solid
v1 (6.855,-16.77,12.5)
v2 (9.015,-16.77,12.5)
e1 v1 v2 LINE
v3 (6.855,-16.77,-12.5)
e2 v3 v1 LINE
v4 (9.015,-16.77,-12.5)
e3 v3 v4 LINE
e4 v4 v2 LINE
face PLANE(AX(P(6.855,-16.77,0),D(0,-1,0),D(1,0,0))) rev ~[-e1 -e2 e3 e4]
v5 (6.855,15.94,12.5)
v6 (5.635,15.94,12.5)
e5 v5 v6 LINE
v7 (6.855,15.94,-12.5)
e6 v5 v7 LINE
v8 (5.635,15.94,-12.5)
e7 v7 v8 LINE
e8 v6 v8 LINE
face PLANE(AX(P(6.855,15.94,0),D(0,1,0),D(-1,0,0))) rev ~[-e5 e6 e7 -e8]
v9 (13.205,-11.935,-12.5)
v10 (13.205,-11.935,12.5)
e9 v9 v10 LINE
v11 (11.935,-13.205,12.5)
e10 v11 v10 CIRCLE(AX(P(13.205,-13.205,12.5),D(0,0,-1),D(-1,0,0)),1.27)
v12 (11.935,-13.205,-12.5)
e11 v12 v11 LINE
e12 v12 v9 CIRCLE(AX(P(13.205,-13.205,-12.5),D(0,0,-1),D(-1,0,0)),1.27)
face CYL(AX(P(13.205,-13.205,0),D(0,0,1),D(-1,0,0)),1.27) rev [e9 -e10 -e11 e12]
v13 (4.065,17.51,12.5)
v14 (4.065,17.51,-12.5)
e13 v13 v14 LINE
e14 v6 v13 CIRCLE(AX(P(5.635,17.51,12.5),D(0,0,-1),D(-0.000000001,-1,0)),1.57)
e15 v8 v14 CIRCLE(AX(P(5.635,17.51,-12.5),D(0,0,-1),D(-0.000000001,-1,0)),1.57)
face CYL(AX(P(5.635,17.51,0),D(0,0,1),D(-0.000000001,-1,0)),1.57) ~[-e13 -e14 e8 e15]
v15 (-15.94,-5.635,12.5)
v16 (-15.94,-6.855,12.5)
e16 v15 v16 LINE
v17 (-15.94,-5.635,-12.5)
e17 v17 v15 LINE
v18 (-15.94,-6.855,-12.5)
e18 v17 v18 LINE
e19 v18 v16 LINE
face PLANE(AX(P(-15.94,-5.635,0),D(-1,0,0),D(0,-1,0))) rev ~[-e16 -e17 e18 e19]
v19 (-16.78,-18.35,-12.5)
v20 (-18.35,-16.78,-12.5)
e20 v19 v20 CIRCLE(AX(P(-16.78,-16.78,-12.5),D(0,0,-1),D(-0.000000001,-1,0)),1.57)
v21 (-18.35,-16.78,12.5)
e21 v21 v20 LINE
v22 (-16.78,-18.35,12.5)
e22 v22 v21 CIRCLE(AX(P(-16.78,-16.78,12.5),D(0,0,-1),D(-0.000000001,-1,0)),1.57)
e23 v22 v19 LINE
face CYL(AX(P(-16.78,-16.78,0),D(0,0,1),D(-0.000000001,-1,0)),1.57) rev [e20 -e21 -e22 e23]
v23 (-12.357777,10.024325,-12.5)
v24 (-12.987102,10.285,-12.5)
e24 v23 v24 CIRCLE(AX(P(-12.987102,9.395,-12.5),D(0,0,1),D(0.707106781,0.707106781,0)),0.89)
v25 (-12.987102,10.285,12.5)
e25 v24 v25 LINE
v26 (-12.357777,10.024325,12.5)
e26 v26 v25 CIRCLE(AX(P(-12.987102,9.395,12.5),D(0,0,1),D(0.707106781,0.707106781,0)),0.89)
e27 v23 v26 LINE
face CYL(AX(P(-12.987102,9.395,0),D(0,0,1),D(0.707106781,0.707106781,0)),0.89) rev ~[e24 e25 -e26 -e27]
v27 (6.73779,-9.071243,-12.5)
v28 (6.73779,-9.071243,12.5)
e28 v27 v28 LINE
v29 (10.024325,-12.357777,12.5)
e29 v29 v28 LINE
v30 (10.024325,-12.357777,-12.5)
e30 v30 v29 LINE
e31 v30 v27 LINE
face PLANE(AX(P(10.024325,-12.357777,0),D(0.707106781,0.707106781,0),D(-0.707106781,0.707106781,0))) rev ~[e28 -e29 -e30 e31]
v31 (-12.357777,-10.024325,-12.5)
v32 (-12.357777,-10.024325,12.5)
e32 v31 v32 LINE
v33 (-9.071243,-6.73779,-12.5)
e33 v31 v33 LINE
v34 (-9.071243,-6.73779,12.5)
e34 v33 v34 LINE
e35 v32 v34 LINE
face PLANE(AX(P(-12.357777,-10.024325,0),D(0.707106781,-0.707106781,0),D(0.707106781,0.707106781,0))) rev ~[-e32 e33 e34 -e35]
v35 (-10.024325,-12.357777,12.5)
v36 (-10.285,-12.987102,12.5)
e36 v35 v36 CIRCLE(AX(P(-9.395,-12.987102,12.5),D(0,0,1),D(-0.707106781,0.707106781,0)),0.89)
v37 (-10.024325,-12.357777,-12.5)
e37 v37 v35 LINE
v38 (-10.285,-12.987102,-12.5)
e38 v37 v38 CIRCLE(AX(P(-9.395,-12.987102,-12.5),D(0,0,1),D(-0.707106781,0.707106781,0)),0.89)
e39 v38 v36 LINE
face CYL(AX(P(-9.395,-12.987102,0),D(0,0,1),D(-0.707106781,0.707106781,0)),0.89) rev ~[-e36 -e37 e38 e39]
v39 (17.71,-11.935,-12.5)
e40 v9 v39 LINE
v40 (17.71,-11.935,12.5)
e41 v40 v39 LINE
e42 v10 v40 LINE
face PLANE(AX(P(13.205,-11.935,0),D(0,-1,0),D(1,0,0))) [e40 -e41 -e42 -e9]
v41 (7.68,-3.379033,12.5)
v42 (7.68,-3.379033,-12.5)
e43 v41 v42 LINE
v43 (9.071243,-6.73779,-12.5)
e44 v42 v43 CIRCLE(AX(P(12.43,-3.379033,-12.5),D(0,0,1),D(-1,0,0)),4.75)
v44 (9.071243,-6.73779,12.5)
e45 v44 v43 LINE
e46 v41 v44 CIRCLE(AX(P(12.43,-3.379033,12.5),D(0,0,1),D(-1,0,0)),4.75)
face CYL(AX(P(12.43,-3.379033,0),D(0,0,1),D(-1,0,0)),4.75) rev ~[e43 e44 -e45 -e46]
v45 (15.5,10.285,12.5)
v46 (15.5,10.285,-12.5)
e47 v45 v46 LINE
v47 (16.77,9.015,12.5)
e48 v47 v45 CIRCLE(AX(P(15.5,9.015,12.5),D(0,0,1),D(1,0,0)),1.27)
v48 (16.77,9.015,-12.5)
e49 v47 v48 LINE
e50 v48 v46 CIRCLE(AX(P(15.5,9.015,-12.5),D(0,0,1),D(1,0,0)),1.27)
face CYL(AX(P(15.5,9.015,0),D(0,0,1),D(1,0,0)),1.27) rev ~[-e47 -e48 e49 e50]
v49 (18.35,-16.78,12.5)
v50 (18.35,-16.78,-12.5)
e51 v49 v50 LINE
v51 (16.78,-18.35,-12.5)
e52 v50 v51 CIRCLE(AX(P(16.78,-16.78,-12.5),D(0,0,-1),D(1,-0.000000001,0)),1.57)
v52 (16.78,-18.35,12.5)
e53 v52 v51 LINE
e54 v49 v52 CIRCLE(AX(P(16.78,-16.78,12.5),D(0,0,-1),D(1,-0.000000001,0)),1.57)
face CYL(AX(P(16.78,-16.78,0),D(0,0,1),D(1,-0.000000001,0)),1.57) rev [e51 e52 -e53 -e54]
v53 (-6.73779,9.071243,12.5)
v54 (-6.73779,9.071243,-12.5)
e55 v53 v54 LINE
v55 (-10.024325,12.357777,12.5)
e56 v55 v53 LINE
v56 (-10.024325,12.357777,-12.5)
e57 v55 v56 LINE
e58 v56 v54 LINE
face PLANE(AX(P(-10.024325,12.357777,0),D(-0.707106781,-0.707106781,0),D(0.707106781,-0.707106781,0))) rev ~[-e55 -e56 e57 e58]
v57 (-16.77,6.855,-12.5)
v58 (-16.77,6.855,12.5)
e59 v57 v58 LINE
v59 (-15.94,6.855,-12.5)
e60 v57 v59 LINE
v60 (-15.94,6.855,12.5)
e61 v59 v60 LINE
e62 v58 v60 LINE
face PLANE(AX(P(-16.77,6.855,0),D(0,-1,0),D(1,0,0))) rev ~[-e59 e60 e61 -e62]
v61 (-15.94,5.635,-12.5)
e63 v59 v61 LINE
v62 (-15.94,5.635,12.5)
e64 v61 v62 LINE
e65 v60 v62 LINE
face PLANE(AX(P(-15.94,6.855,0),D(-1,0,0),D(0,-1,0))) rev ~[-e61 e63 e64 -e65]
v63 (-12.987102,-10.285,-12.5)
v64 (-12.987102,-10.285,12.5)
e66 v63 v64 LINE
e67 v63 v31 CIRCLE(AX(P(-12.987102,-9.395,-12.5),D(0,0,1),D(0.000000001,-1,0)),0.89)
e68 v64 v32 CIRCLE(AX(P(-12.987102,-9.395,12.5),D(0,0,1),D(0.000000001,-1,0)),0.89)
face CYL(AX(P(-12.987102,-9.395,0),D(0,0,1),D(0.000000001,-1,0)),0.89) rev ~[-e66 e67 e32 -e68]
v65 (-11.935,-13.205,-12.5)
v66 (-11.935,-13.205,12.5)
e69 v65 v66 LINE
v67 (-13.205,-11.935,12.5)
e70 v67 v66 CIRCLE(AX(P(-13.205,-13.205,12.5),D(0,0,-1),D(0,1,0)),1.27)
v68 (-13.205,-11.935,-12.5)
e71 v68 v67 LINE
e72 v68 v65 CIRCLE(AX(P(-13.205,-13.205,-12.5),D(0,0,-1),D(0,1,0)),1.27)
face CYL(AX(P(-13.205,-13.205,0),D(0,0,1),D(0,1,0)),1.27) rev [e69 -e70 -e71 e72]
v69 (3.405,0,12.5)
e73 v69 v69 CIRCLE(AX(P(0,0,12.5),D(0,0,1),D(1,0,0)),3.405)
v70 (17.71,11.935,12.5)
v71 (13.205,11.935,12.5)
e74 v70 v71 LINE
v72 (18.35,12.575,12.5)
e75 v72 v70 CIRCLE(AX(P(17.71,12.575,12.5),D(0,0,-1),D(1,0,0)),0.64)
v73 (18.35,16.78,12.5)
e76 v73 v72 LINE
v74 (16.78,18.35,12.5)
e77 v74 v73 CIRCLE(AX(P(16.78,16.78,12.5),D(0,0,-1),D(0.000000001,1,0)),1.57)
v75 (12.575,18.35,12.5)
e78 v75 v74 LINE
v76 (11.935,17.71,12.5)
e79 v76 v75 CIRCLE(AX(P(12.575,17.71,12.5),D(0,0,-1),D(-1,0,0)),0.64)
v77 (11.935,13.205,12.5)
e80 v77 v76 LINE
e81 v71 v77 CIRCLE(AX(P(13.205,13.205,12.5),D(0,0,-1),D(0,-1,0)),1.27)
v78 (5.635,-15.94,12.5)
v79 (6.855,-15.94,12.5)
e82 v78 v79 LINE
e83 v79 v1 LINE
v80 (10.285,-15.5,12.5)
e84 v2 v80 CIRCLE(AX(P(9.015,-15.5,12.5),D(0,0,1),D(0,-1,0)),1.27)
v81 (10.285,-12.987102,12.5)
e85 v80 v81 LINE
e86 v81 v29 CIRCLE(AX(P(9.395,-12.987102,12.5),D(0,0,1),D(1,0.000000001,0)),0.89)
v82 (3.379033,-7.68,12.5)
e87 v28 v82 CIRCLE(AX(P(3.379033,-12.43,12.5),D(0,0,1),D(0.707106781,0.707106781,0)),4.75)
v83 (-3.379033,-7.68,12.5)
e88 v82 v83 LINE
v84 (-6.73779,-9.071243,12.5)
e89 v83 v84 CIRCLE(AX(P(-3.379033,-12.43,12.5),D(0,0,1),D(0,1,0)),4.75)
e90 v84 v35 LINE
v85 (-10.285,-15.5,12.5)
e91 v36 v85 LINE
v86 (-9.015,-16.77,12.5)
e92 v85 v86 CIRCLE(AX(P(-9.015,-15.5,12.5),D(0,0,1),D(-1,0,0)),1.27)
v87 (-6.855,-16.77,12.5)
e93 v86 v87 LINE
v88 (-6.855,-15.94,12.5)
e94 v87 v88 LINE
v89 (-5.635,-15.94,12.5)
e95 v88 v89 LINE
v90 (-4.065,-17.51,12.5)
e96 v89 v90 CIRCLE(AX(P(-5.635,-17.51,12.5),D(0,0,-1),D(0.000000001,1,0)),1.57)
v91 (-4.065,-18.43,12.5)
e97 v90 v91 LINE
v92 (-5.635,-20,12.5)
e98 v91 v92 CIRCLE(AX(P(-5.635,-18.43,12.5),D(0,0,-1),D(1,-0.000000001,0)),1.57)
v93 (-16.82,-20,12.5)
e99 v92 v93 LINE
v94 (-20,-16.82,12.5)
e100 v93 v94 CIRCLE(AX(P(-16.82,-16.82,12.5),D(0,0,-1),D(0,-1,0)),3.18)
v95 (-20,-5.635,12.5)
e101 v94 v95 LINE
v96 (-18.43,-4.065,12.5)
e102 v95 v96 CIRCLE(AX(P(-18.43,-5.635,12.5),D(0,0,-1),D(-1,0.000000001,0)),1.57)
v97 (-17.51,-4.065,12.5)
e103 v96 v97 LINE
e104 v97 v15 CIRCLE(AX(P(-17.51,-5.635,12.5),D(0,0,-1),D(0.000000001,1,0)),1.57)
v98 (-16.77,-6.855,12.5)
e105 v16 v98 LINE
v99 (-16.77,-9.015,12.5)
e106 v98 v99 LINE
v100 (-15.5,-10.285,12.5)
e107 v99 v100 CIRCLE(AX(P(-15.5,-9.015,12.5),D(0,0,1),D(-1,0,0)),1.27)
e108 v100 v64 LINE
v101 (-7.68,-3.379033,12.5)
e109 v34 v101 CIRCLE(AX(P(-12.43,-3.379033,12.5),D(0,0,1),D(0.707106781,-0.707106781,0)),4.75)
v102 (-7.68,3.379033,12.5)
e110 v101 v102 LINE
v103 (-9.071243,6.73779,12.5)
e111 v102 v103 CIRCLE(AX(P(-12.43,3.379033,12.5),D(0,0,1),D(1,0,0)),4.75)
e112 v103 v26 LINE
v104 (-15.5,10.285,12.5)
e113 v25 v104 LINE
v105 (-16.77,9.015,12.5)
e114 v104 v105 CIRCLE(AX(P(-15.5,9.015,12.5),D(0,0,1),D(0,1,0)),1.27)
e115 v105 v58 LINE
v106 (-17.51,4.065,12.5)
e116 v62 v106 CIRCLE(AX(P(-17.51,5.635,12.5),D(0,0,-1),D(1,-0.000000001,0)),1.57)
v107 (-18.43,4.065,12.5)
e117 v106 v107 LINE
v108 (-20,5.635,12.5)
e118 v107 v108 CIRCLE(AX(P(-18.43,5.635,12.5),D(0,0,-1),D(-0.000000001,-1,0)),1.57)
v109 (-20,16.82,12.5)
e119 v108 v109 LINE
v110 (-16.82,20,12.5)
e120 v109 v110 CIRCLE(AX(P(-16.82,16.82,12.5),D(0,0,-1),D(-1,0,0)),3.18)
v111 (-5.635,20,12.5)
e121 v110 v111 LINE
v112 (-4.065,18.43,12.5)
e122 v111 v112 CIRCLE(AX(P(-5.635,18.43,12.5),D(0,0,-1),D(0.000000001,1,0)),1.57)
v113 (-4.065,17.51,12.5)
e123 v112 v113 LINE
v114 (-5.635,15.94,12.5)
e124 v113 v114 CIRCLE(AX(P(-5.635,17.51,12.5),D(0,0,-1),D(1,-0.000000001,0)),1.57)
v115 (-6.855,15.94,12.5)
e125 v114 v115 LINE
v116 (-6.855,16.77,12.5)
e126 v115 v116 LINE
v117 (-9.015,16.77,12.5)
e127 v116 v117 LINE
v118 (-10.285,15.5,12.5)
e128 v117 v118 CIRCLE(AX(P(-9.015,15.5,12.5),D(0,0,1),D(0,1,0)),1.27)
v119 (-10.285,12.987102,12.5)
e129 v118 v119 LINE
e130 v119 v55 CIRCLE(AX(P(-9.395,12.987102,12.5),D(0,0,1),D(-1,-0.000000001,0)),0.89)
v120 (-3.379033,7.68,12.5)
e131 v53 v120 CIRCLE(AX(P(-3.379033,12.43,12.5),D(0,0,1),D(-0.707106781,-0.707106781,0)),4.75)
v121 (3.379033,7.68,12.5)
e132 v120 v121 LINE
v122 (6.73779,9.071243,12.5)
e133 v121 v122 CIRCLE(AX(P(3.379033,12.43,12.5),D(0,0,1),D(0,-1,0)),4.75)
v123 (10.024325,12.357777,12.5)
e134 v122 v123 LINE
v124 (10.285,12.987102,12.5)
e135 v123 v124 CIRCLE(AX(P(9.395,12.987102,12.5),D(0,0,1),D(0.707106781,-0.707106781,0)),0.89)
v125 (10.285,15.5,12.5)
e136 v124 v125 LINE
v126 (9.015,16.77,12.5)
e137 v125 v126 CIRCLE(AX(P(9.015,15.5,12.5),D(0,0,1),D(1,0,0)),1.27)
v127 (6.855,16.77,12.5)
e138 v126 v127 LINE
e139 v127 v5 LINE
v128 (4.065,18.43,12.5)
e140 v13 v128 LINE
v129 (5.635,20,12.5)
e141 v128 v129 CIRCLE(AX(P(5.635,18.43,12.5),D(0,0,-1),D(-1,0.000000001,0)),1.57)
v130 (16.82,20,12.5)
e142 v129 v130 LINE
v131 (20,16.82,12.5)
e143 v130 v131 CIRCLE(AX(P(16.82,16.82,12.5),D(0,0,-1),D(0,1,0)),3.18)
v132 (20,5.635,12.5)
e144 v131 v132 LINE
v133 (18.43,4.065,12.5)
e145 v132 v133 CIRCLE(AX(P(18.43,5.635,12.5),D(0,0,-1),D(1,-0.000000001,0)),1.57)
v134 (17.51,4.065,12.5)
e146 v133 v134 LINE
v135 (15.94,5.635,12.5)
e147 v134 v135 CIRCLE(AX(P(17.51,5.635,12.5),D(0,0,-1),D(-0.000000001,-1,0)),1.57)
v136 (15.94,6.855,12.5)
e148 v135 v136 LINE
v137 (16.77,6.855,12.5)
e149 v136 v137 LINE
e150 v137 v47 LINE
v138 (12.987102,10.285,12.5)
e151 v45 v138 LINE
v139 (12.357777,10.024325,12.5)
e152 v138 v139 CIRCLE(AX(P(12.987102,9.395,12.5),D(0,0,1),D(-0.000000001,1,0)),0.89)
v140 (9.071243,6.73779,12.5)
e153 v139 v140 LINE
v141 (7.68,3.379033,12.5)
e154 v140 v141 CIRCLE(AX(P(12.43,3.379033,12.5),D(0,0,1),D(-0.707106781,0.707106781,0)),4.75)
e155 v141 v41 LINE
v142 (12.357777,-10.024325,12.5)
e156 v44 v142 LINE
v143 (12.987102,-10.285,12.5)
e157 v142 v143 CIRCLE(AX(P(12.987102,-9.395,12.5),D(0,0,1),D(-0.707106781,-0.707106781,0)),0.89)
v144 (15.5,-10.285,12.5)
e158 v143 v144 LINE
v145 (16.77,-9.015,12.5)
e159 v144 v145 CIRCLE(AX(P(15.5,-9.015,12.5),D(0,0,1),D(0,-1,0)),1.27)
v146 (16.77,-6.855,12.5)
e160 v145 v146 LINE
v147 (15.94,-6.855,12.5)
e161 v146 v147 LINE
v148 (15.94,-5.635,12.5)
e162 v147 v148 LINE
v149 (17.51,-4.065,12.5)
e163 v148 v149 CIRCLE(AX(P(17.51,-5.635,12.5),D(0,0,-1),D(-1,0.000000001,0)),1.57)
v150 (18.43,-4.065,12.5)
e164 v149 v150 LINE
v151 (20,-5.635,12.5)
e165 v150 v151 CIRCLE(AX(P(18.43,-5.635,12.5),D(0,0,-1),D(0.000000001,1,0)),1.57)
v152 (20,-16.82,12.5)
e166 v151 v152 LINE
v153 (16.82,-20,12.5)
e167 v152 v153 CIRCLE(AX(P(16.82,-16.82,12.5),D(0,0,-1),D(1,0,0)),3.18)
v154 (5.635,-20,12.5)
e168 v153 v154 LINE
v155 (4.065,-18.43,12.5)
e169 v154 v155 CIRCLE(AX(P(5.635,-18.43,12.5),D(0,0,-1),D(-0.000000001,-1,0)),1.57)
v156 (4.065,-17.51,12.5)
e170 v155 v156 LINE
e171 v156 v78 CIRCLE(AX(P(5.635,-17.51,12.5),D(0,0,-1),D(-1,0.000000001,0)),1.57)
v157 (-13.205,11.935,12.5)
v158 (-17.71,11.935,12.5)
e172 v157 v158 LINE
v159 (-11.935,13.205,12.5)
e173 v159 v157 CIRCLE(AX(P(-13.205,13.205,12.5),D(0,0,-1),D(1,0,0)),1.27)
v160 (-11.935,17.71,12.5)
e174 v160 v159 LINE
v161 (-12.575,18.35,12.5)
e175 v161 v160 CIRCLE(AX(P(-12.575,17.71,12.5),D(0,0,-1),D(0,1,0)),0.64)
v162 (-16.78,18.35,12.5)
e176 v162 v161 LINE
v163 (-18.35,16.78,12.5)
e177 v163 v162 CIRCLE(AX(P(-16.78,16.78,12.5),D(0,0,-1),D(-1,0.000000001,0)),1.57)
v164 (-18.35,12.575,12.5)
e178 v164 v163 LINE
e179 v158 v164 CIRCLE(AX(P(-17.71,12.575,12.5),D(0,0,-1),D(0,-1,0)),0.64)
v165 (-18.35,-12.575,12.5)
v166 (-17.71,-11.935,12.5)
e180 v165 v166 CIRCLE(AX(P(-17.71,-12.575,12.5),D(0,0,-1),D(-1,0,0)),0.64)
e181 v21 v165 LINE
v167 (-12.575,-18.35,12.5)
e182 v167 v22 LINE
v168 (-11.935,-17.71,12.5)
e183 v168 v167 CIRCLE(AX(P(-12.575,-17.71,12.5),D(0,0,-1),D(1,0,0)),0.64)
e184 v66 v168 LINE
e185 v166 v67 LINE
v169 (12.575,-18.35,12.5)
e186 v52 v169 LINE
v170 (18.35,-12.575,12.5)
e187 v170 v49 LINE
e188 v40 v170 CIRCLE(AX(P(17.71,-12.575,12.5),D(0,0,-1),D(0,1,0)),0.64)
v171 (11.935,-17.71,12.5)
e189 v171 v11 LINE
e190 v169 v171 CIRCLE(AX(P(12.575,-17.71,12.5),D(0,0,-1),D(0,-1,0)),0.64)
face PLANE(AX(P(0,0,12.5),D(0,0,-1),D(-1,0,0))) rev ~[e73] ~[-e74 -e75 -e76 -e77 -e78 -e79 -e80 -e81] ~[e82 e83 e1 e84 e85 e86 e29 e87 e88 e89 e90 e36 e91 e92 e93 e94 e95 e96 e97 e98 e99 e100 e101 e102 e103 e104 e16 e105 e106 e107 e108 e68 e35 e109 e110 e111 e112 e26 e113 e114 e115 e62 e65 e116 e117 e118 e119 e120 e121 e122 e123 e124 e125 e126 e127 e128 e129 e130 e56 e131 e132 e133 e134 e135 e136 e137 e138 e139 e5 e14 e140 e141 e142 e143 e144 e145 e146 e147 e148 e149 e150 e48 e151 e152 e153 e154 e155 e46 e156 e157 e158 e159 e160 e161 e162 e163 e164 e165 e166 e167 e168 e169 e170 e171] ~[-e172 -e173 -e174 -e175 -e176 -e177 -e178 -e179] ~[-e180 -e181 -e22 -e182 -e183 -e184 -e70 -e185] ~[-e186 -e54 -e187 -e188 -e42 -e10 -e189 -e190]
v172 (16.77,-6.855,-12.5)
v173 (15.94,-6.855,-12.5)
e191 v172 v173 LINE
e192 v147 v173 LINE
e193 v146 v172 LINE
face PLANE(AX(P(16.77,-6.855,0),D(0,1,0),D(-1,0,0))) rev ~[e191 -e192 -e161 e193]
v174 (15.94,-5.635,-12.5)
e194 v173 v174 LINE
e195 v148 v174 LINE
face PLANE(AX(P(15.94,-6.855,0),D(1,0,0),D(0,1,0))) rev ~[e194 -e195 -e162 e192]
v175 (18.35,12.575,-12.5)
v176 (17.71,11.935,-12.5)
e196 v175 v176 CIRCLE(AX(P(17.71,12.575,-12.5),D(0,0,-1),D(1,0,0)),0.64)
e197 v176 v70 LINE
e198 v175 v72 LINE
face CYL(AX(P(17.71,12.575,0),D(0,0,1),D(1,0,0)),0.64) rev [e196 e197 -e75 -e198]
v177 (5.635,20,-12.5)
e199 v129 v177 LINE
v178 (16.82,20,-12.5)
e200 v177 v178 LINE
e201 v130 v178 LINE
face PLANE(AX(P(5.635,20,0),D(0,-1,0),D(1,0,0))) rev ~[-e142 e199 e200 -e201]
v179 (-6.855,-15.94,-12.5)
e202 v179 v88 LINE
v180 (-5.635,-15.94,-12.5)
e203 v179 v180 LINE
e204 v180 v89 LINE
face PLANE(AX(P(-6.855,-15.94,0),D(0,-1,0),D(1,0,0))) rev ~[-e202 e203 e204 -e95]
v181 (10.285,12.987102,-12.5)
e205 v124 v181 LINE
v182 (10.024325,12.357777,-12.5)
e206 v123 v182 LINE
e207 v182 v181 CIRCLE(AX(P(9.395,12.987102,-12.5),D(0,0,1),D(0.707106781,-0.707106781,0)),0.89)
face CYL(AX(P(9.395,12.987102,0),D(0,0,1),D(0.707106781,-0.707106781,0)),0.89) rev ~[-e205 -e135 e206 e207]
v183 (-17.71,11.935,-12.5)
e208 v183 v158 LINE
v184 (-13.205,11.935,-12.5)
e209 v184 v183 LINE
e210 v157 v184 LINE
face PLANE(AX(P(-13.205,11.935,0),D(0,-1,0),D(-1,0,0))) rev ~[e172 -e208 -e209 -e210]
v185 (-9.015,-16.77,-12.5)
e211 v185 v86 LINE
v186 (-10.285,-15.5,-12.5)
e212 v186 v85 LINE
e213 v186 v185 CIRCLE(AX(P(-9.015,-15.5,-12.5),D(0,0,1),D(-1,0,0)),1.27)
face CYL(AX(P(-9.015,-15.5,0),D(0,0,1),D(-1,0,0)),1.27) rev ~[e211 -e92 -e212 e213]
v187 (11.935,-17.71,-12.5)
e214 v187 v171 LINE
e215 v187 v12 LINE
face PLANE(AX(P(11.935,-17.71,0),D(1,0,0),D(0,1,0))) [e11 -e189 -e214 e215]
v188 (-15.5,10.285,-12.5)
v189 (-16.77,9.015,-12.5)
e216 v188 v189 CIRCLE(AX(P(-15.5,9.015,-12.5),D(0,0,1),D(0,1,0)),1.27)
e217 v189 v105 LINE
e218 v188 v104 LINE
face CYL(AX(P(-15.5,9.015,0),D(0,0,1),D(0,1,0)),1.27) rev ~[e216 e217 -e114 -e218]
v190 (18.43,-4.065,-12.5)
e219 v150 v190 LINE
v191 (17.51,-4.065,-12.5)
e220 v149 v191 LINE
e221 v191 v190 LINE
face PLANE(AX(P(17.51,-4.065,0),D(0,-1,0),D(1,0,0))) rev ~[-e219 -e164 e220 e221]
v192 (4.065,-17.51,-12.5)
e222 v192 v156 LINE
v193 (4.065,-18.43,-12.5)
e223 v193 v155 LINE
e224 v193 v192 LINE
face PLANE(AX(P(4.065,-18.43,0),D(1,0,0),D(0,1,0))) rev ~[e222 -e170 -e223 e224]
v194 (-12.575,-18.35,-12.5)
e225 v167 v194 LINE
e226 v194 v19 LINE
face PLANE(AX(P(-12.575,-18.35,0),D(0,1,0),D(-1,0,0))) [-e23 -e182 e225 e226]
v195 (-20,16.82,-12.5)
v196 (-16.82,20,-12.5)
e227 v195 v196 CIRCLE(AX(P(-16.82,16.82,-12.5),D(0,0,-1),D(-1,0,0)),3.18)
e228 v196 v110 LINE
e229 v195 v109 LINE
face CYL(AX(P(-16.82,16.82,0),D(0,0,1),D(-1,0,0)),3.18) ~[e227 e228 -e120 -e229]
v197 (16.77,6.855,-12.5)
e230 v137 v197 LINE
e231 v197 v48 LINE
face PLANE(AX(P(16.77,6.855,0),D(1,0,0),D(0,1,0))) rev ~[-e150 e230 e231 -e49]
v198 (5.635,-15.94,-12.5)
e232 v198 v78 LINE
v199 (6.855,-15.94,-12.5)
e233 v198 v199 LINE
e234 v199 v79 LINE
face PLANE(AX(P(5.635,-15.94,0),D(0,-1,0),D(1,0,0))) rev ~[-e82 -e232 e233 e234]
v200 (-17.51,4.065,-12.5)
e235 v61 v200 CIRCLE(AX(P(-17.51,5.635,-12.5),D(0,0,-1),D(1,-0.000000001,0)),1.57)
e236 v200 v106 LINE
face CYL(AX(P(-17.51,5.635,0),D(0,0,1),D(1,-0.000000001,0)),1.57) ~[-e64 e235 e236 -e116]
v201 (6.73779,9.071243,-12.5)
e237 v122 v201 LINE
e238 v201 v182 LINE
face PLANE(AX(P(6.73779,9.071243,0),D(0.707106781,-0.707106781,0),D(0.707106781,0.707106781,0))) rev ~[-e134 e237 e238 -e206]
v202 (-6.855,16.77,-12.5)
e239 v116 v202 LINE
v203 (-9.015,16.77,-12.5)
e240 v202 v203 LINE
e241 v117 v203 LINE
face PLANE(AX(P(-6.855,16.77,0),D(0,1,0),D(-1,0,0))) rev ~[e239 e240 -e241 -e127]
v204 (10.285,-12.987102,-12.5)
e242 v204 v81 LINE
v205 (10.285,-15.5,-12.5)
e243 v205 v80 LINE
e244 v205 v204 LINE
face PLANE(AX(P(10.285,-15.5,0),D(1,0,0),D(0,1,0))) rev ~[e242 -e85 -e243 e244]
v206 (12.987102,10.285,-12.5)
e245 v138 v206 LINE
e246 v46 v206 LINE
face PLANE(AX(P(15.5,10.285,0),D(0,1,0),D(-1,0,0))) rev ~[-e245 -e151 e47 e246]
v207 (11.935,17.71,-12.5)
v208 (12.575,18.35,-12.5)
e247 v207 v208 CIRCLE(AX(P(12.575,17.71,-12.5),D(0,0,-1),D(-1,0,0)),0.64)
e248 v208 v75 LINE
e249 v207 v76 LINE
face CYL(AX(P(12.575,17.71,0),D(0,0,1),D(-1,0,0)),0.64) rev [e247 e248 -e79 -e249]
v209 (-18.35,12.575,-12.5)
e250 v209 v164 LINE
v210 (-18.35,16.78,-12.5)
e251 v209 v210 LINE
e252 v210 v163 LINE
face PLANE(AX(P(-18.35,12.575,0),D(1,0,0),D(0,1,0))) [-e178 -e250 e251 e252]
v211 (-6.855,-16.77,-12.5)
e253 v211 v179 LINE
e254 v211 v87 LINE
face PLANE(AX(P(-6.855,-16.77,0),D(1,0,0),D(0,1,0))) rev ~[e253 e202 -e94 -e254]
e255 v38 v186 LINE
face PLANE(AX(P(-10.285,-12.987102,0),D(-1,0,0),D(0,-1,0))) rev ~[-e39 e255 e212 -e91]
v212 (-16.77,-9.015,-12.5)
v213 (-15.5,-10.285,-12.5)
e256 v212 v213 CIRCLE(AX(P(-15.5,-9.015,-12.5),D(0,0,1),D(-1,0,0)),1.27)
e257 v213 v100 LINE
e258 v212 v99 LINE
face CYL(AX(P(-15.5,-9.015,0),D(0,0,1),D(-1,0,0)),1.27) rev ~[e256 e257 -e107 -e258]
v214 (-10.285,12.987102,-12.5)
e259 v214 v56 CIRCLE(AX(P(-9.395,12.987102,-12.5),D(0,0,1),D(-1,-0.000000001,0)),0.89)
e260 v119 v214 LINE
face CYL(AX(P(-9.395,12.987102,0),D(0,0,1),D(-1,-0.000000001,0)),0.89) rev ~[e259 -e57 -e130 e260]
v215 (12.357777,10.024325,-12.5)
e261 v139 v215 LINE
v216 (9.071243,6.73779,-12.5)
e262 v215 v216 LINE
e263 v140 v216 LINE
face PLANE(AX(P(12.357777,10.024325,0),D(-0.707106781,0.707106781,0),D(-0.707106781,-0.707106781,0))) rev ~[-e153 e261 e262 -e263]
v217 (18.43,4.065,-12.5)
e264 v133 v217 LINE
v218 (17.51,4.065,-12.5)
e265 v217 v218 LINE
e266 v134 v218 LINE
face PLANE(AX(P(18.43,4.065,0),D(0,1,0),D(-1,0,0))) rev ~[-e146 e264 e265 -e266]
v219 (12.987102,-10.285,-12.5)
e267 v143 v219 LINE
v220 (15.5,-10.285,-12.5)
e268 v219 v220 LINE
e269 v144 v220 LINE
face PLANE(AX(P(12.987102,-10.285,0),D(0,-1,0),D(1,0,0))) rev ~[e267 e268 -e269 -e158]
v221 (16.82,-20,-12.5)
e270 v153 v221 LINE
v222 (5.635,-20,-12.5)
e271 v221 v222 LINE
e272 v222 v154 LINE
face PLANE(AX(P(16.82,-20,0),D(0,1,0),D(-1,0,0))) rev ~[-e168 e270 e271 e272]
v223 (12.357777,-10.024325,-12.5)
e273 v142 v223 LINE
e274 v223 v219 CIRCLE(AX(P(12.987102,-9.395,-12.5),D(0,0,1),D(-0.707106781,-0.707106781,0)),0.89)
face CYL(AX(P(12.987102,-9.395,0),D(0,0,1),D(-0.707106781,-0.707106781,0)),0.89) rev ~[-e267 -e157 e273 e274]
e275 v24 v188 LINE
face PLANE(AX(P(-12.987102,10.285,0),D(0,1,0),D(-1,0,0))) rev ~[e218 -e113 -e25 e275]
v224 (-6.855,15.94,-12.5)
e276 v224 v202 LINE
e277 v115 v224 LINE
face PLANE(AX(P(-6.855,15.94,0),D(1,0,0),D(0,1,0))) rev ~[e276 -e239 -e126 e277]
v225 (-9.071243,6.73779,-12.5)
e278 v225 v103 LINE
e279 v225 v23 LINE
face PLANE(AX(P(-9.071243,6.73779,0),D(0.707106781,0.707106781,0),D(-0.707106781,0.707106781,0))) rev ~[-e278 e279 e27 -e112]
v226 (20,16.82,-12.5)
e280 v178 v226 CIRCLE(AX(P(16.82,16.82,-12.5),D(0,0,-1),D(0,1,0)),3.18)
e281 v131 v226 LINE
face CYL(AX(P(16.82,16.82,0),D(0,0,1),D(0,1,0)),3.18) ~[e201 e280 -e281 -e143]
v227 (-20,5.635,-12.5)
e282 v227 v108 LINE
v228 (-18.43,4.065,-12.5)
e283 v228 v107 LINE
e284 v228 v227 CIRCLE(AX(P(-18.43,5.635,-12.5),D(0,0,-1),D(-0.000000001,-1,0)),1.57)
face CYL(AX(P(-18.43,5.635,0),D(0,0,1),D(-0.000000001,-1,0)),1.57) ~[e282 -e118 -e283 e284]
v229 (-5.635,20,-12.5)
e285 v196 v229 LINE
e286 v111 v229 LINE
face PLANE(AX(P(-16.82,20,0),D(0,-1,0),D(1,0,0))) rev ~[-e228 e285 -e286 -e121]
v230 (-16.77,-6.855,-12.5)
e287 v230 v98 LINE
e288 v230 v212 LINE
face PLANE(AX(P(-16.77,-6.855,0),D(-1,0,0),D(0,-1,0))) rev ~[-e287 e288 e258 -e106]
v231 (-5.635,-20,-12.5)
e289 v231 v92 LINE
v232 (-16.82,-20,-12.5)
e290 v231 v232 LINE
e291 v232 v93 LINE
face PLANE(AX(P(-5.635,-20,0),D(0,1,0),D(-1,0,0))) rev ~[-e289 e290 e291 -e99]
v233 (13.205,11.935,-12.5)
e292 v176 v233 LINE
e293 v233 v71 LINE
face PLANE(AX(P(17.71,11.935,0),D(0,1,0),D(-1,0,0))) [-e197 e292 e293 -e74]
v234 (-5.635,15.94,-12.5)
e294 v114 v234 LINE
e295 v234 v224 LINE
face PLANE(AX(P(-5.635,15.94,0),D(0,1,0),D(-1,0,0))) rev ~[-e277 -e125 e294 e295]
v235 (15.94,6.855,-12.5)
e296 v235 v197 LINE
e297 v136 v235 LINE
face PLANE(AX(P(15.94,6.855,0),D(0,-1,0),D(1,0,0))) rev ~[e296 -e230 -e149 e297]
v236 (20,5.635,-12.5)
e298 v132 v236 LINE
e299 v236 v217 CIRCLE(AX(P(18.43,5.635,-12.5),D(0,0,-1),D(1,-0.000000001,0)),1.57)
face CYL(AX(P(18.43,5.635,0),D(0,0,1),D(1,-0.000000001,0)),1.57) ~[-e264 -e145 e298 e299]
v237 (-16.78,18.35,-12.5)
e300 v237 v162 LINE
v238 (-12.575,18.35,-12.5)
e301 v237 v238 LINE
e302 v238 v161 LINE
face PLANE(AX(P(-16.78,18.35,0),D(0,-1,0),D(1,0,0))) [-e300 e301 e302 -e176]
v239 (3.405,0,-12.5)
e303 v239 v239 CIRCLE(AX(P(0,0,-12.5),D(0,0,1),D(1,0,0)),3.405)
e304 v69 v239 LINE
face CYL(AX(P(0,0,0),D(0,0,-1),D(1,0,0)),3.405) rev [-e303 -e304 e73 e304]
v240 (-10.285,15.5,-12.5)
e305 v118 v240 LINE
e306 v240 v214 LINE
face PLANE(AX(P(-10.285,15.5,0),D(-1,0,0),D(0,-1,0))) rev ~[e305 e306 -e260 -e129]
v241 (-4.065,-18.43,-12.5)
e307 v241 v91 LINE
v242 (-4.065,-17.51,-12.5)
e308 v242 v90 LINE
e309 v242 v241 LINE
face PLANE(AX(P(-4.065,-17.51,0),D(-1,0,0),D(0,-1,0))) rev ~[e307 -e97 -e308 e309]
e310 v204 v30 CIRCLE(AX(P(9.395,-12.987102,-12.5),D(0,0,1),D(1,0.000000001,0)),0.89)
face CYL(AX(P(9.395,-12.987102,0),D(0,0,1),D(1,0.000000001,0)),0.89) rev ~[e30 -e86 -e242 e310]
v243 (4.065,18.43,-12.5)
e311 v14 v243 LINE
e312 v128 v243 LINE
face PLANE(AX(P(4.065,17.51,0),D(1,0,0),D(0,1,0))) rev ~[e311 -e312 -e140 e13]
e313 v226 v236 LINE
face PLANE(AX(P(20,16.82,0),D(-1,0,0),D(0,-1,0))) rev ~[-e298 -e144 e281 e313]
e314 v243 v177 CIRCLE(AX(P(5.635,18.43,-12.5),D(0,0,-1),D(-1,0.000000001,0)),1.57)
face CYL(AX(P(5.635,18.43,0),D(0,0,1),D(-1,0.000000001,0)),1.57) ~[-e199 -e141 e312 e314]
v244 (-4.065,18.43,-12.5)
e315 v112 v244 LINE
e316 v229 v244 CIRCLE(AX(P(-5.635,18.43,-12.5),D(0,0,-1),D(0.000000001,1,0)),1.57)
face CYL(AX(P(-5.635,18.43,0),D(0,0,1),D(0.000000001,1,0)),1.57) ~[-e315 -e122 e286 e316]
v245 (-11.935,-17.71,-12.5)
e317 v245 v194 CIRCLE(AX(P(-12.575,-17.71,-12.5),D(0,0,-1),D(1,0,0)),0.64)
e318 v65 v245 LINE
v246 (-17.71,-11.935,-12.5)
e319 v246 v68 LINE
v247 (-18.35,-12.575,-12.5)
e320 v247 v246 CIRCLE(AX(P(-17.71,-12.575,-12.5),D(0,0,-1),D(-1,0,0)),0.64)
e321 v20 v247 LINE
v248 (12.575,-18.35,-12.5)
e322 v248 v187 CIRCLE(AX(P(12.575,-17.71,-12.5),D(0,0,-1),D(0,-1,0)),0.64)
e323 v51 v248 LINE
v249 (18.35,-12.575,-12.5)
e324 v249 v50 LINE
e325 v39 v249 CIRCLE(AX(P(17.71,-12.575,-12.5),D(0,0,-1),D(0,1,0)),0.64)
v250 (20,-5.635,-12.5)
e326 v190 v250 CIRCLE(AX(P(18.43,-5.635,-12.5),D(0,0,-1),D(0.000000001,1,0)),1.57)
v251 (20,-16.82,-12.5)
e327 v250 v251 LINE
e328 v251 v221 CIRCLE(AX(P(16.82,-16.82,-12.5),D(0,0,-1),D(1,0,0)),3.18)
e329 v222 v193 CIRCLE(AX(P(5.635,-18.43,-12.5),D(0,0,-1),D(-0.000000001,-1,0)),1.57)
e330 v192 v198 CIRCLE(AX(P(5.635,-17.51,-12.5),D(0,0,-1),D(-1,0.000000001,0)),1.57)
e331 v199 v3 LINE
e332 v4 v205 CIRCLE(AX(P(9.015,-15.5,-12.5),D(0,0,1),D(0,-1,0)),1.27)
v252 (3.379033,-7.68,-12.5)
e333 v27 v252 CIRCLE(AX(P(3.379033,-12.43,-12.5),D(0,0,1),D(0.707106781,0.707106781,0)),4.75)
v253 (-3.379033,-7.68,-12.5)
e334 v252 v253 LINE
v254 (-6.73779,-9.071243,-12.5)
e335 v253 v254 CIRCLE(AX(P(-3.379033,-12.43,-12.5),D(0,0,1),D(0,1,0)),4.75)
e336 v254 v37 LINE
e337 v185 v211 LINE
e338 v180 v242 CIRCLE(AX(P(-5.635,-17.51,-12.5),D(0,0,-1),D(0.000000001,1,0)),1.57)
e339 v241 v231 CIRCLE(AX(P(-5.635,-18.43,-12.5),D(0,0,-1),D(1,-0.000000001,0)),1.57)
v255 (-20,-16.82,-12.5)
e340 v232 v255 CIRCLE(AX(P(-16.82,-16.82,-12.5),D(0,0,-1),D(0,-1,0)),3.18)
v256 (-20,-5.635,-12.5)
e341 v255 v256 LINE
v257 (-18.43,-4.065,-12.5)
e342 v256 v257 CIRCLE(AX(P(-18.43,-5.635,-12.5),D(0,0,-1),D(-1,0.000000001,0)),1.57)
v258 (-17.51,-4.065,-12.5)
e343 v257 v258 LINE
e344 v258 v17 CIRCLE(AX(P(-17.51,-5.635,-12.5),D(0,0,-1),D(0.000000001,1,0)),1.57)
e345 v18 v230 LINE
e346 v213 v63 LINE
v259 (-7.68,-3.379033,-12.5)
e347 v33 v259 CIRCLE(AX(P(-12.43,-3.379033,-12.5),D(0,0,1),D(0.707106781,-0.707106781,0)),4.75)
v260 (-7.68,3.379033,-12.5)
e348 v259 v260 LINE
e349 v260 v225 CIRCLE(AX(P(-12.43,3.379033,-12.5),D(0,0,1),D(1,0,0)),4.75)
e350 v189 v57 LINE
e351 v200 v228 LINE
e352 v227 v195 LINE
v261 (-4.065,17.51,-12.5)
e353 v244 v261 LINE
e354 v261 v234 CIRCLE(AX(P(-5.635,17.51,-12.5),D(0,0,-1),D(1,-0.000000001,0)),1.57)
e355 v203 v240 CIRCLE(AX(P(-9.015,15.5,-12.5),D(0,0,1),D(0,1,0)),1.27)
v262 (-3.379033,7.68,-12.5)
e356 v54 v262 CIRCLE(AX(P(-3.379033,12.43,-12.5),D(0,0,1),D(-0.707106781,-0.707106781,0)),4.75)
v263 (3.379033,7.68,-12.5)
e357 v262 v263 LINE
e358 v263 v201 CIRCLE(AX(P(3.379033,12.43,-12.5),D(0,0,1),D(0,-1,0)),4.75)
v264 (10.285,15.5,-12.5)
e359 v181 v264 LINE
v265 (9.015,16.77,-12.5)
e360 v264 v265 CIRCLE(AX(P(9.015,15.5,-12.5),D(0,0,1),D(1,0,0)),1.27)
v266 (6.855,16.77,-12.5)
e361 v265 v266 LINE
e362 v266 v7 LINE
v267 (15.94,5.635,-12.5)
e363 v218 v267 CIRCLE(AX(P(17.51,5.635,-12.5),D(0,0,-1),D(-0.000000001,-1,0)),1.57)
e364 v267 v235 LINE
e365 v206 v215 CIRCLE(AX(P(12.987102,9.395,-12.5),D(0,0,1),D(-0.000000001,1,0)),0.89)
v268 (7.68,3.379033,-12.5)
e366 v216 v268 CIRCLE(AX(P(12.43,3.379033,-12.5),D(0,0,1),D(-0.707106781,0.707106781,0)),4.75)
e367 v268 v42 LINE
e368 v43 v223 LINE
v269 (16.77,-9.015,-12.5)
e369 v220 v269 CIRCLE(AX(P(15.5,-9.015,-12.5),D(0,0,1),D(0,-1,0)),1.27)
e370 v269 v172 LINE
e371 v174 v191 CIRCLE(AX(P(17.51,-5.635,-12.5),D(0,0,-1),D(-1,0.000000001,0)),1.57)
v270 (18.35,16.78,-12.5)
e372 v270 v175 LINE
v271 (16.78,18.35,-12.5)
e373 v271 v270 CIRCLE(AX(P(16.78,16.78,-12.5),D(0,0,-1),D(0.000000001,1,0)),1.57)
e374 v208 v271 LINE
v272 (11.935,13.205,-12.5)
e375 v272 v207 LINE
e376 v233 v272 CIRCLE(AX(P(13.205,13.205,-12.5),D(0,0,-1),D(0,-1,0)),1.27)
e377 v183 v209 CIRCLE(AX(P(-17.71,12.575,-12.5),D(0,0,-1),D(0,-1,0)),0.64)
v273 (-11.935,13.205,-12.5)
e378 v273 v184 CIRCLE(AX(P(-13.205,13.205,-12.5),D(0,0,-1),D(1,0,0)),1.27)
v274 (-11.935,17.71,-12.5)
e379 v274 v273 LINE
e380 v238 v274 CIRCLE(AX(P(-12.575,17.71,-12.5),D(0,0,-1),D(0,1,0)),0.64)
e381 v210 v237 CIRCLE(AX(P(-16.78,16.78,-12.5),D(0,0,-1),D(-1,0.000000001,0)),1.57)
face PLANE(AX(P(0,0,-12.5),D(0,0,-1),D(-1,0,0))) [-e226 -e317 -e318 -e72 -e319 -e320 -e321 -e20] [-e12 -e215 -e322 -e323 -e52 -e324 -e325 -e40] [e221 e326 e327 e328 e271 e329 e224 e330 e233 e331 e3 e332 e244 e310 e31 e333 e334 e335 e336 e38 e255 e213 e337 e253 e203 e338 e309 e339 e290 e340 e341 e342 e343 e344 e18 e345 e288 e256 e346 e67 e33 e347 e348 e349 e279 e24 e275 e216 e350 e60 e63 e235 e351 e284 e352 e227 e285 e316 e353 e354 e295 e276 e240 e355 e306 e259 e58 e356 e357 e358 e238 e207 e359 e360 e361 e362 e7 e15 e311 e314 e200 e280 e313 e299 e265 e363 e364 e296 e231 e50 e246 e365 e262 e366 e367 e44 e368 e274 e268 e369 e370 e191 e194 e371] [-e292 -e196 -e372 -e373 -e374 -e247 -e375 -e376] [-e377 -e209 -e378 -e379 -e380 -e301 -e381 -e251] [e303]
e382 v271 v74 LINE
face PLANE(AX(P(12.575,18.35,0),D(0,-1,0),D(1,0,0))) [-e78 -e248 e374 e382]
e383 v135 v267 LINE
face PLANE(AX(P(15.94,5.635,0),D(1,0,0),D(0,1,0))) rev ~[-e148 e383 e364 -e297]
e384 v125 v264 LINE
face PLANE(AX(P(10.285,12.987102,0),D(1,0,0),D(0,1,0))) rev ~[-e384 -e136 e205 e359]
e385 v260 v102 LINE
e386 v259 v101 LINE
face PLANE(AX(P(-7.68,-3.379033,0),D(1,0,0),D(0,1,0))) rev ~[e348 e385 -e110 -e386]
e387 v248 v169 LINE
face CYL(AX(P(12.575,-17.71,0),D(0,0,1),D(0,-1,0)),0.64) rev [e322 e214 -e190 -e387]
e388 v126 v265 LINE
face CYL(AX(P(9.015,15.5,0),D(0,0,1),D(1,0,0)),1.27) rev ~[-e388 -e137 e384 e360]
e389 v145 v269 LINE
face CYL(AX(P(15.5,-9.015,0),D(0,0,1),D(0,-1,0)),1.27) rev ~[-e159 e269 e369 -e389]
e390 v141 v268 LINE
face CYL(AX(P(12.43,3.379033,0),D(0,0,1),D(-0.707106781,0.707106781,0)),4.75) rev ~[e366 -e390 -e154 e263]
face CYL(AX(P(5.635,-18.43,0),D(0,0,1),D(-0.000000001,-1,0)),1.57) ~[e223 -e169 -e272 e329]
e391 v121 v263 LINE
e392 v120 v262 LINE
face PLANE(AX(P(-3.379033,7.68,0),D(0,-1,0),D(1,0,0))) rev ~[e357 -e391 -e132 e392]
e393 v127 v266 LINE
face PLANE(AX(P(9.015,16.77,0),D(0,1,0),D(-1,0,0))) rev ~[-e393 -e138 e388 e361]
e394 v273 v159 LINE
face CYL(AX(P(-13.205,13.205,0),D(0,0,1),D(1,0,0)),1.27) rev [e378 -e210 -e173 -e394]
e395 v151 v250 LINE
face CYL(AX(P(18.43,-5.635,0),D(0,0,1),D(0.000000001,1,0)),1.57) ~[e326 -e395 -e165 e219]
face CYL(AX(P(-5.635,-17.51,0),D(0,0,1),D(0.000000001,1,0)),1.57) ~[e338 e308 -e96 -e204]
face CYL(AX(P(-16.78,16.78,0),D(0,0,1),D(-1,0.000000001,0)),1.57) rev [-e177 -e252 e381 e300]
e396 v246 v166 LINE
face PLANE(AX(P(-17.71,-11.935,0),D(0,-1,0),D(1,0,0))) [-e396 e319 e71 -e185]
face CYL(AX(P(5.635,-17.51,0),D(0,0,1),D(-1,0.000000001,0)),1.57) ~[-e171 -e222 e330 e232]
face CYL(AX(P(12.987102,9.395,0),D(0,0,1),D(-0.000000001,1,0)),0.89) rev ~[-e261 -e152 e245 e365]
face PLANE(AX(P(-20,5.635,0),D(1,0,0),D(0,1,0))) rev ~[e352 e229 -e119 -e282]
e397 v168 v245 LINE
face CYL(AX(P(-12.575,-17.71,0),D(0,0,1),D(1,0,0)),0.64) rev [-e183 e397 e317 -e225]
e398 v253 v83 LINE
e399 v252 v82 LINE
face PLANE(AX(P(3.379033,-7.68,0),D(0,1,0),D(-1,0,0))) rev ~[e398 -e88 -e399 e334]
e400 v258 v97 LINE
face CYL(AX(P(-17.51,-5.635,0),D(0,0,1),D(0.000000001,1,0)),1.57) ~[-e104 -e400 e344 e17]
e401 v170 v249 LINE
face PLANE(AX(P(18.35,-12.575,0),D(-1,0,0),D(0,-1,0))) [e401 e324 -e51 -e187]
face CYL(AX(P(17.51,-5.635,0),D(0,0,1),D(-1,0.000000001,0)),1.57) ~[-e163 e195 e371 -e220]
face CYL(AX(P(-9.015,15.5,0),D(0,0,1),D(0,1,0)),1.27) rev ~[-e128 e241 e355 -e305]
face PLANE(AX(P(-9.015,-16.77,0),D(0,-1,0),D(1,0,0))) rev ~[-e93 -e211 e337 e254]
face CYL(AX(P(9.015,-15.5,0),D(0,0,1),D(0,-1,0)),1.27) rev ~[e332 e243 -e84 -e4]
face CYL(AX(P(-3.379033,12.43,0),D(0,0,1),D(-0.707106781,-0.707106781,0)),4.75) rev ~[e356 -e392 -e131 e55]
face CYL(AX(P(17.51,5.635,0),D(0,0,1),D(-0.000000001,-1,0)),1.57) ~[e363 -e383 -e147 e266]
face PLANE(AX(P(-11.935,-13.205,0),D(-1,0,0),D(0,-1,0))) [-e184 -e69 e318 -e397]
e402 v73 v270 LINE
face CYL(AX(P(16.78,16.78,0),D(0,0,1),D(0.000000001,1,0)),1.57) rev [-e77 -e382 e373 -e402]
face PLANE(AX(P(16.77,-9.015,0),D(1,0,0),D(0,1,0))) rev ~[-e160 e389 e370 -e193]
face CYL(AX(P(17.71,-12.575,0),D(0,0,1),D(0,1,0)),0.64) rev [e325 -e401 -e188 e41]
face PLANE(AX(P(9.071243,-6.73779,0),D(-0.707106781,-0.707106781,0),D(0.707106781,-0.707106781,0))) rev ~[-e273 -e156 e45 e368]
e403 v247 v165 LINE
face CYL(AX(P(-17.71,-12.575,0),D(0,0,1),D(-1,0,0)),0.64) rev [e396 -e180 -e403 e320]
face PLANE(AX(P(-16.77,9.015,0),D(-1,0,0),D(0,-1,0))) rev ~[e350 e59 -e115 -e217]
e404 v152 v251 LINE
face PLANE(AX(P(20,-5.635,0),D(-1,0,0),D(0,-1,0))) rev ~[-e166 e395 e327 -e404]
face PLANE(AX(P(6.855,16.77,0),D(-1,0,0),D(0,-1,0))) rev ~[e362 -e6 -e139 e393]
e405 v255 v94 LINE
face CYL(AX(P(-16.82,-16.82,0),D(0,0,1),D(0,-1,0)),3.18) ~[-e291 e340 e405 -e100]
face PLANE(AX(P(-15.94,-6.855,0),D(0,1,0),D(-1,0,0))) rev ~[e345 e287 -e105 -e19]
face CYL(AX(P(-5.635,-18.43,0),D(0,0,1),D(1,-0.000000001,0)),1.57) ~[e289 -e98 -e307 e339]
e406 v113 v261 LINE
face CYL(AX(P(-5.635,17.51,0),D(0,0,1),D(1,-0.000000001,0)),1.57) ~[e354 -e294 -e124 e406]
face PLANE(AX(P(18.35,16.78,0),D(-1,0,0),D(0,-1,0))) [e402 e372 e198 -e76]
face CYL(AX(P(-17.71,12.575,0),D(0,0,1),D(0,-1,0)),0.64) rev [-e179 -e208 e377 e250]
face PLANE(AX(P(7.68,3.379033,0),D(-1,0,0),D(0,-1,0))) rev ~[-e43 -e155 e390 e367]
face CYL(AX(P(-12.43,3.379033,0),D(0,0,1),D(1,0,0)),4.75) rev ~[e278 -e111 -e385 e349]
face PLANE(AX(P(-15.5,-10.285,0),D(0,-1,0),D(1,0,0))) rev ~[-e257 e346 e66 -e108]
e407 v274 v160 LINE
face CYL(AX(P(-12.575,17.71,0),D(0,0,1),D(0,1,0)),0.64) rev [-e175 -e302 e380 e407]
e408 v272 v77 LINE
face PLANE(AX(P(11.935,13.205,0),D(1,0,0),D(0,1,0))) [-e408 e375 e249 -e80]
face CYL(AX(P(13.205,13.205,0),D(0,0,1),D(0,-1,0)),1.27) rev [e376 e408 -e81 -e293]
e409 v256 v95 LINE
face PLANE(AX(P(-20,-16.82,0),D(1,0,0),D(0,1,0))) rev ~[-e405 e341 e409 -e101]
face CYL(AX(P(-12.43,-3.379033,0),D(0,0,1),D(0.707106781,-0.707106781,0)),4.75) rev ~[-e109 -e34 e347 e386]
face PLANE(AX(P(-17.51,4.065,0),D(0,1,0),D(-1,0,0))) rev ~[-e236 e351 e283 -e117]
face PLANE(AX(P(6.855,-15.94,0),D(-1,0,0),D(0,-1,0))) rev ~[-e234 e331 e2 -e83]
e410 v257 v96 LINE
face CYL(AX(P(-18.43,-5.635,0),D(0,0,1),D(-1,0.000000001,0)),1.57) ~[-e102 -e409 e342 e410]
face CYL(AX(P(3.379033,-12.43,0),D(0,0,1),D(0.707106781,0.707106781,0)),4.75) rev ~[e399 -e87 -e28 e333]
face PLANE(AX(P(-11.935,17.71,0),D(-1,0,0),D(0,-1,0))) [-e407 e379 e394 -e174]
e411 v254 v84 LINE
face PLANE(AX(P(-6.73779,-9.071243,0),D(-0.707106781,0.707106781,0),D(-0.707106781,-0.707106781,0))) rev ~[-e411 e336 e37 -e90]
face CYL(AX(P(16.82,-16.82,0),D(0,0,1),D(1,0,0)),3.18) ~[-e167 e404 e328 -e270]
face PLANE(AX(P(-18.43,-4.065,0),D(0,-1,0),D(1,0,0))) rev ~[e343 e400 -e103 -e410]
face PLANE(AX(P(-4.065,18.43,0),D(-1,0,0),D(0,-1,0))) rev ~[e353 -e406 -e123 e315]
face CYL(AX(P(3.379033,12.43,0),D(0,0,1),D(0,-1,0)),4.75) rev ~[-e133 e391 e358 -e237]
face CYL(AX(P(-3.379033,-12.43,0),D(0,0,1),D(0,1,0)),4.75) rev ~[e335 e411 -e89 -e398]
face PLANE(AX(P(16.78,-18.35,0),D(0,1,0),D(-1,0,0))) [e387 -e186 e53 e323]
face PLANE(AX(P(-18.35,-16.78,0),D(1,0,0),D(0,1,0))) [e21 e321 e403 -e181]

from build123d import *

# Parameters (mm, degrees)
SKETCH2_R      = 3.405
EXTRUDE1_DEPTH = 12.5


with BuildPart() as part:
    # Sketch2 → Extrude1 (new, symmetric)
    with BuildSketch(Plane.XY):
        with BuildLine():
            Line((-16.82, 20), (-5.635, 20))
            ThreePointArc((-5.635, 20), (-4.524842354, 19.540157646), (-4.065, 18.43))
            Line((-4.065, 18.43), (-4.065, 17.51))
            ThreePointArc((-4.065, 17.51), (-4.524842354, 16.399842354), (-5.635, 15.94))
            Line((-5.635, 15.94), (-6.855, 15.94))
            Line((-6.855, 15.94), (-6.855, 16.77))
            Line((-6.855, 16.77), (-9.015, 16.77))
            ThreePointArc((-9.015, 16.77), (-9.913025612, 16.398025612), (-10.285, 15.5))
            Line((-10.285, 15.5), (-10.285, 12.987102448))
            ThreePointArc((-10.285, 12.987102448), (-10.217252784, 12.646514194), (-10.024325035, 12.357777413))
            Line((-10.024325035, 12.357777413), (-6.737790411, 9.071242789))
            ThreePointArc((-6.737790411, 9.071242789), (-5.196779505, 8.041572221), (-3.379033201, 7.68))
            Line((-3.379033201, 7.68), (3.379033201, 7.68))
            ThreePointArc((3.379033201, 7.68), (5.196779505, 8.041572221), (6.737790411, 9.071242789))
            Line((6.737790411, 9.071242789), (10.024325035, 12.357777413))
            ThreePointArc((10.024325035, 12.357777413), (10.217252784, 12.646514194), (10.285, 12.987102448))
            Line((10.285, 12.987102448), (10.285, 15.5))
            ThreePointArc((10.285, 15.5), (9.913025612, 16.398025612), (9.015, 16.77))
            Line((9.015, 16.77), (6.855, 16.77))
            Line((6.855, 16.77), (6.855, 15.94))
            Line((6.855, 15.94), (5.635, 15.94))
            ThreePointArc((5.635, 15.94), (4.524842354, 16.399842354), (4.065, 17.51))
            Line((4.065, 17.51), (4.065, 18.43))
            ThreePointArc((4.065, 18.43), (4.524842354, 19.540157646), (5.635, 20))
            Line((5.635, 20), (16.82, 20))
            ThreePointArc((16.82, 20), (19.068599564, 19.068599564), (20, 16.82))
            Line((20, 16.82), (20, 5.635))
            ThreePointArc((20, 5.635), (19.540157646, 4.524842354), (18.43, 4.065))
            Line((18.43, 4.065), (17.51, 4.065))
            ThreePointArc((17.51, 4.065), (16.399842354, 4.524842354), (15.94, 5.635))
            Line((15.94, 5.635), (15.94, 6.855))
            Line((15.94, 6.855), (16.77, 6.855))
            Line((16.77, 6.855), (16.77, 9.015))
            ThreePointArc((16.77, 9.015), (16.398025612, 9.913025612), (15.5, 10.285))
            Line((15.5, 10.285), (12.987102448, 10.285))
            ThreePointArc((12.987102448, 10.285), (12.646514194, 10.217252784), (12.357777413, 10.024325035))
            Line((12.357777413, 10.024325035), (9.071242789, 6.737790411))
            ThreePointArc((9.071242789, 6.737790411), (8.041572221, 5.196779505), (7.68, 3.379033201))
            Line((7.68, 3.379033201), (7.68, -3.379033201))
            ThreePointArc((7.68, -3.379033201), (8.041572221, -5.196779505), (9.071242789, -6.737790411))
            Line((9.071242789, -6.737790411), (12.357777413, -10.024325035))
            ThreePointArc((12.357777413, -10.024325035), (12.646514194, -10.217252784), (12.987102448, -10.285))
            Line((12.987102448, -10.285), (15.5, -10.285))
            ThreePointArc((15.5, -10.285), (16.398025612, -9.913025612), (16.77, -9.015))
            Line((16.77, -9.015), (16.77, -6.855))
            Line((16.77, -6.855), (15.94, -6.855))
            Line((15.94, -6.855), (15.94, -5.635))
            ThreePointArc((15.94, -5.635), (16.399842354, -4.524842354), (17.51, -4.065))
            Line((17.51, -4.065), (18.43, -4.065))
            ThreePointArc((18.43, -4.065), (19.540157646, -4.524842354), (20, -5.635))
            Line((20, -5.635), (20, -16.82))
            ThreePointArc((20, -16.82), (19.068599564, -19.068599564), (16.82, -20))
            Line((16.82, -20), (5.635, -20))
            ThreePointArc((5.635, -20), (4.524842354, -19.540157646), (4.065, -18.43))
            Line((4.065, -18.43), (4.065, -17.51))
            ThreePointArc((4.065, -17.51), (4.524842354, -16.399842354), (5.635, -15.94))
            Line((5.635, -15.94), (6.855, -15.94))
            Line((6.855, -15.94), (6.855, -16.77))
            Line((6.855, -16.77), (9.015, -16.77))
            ThreePointArc((9.015, -16.77), (9.913025612, -16.398025612), (10.285, -15.5))
            Line((10.285, -15.5), (10.285, -12.987102448))
            ThreePointArc((10.285, -12.987102448), (10.217252784, -12.646514194), (10.024325035, -12.357777413))
            Line((10.024325035, -12.357777413), (6.737790411, -9.071242789))
            ThreePointArc((6.737790411, -9.071242789), (5.196779505, -8.041572221), (3.379033201, -7.68))
            Line((3.379033201, -7.68), (-3.379033201, -7.68))
            ThreePointArc((-3.379033201, -7.68), (-5.196779505, -8.041572221), (-6.737790411, -9.071242789))
            Line((-6.737790411, -9.071242789), (-10.024325035, -12.357777413))
            ThreePointArc((-10.024325035, -12.357777413), (-10.217252784, -12.646514194), (-10.285, -12.987102448))
            Line((-10.285, -12.987102448), (-10.285, -15.5))
            ThreePointArc((-10.285, -15.5), (-9.913025612, -16.398025612), (-9.015, -16.77))
            Line((-9.015, -16.77), (-6.855, -16.77))
            Line((-6.855, -16.77), (-6.855, -15.94))
            Line((-6.855, -15.94), (-5.635, -15.94))
            ThreePointArc((-5.635, -15.94), (-4.524842354, -16.399842354), (-4.065, -17.51))
            Line((-4.065, -17.51), (-4.065, -18.43))
            ThreePointArc((-4.065, -18.43), (-4.524842354, -19.540157646), (-5.635, -20))
            Line((-5.635, -20), (-16.82, -20))
            ThreePointArc((-16.82, -20), (-19.068599564, -19.068599564), (-20, -16.82))
            Line((-20, -16.82), (-20, -5.635))
            ThreePointArc((-20, -5.635), (-19.540157646, -4.524842354), (-18.43, -4.065))
            Line((-18.43, -4.065), (-17.51, -4.065))
            ThreePointArc((-17.51, -4.065), (-16.399842354, -4.524842354), (-15.94, -5.635))
            Line((-15.94, -5.635), (-15.94, -6.855))
            Line((-15.94, -6.855), (-16.77, -6.855))
            Line((-16.77, -6.855), (-16.77, -9.015))
            ThreePointArc((-16.77, -9.015), (-16.398025612, -9.913025612), (-15.5, -10.285))
            Line((-15.5, -10.285), (-12.987102448, -10.285))
            ThreePointArc((-12.987102448, -10.285), (-12.646514194, -10.217252784), (-12.357777413, -10.024325035))
            Line((-12.357777413, -10.024325035), (-9.071242789, -6.737790411))
            ThreePointArc((-9.071242789, -6.737790411), (-8.041572221, -5.196779505), (-7.68, -3.379033201))
            Line((-7.68, -3.379033201), (-7.68, 3.379033201))
            ThreePointArc((-7.68, 3.379033201), (-8.041572221, 5.196779505), (-9.071242789, 6.737790411))
            Line((-9.071242789, 6.737790411), (-12.357777413, 10.024325035))
            ThreePointArc((-12.357777413, 10.024325035), (-12.646514194, 10.217252784), (-12.987102448, 10.285))
            Line((-12.987102448, 10.285), (-15.5, 10.285))
            ThreePointArc((-15.5, 10.285), (-16.398025612, 9.913025612), (-16.77, 9.015))
            Line((-16.77, 9.015), (-16.77, 6.855))
            Line((-16.77, 6.855), (-15.94, 6.855))
            Line((-15.94, 6.855), (-15.94, 5.635))
            ThreePointArc((-15.94, 5.635), (-16.399842354, 4.524842354), (-17.51, 4.065))
            Line((-17.51, 4.065), (-18.43, 4.065))
            ThreePointArc((-18.43, 4.065), (-19.540157646, 4.524842354), (-20, 5.635))
            Line((-20, 5.635), (-20, 16.82))
            ThreePointArc((-20, 16.82), (-19.068599564, 19.068599564), (-16.82, 20))
        make_face()
        Circle(SKETCH2_R, mode=Mode.SUBTRACT)
        with BuildLine():
            Line((-16.78, 18.35), (-12.575, 18.35))
            ThreePointArc((-12.575, 18.35), (-12.12245166, 18.16254834), (-11.935, 17.71))
            Line((-11.935, 17.71), (-11.935, 13.205))
            ThreePointArc((-11.935, 13.205), (-12.306974388, 12.306974388), (-13.205, 11.935))
            Line((-13.205, 11.935), (-17.71, 11.935))
            ThreePointArc((-17.71, 11.935), (-18.16254834, 12.12245166), (-18.35, 12.575))
            Line((-18.35, 12.575), (-18.35, 16.78))
            ThreePointArc((-18.35, 16.78), (-17.890157646, 17.890157646), (-16.78, 18.35))
        make_face(mode=Mode.SUBTRACT)
        with BuildLine():
            Line((-18.35, -16.78), (-18.35, -12.575))
            ThreePointArc((-18.35, -12.575), (-18.16254834, -12.12245166), (-17.71, -11.935))
            Line((-17.71, -11.935), (-13.205, -11.935))
            ThreePointArc((-13.205, -11.935), (-12.306974388, -12.306974388), (-11.935, -13.205))
            Line((-11.935, -13.205), (-11.935, -17.71))
            ThreePointArc((-11.935, -17.71), (-12.12245166, -18.16254834), (-12.575, -18.35))
            Line((-12.575, -18.35), (-16.78, -18.35))
            ThreePointArc((-16.78, -18.35), (-17.890157646, -17.890157646), (-18.35, -16.78))
        make_face(mode=Mode.SUBTRACT)
        with BuildLine():
            Line((16.78, -18.35), (12.575, -18.35))
            ThreePointArc((12.575, -18.35), (12.12245166, -18.16254834), (11.935, -17.71))
            Line((11.935, -17.71), (11.935, -13.205))
            ThreePointArc((11.935, -13.205), (12.306974388, -12.306974388), (13.205, -11.935))
            Line((13.205, -11.935), (17.71, -11.935))
            ThreePointArc((17.71, -11.935), (18.16254834, -12.12245166), (18.35, -12.575))
            Line((18.35, -12.575), (18.35, -16.78))
            ThreePointArc((18.35, -16.78), (17.890157646, -17.890157646), (16.78, -18.35))
        make_face(mode=Mode.SUBTRACT)
        with BuildLine():
            Line((18.35, 16.78), (18.35, 12.575))
            ThreePointArc((18.35, 12.575), (18.16254834, 12.12245166), (17.71, 11.935))
            Line((17.71, 11.935), (13.205, 11.935))
            ThreePointArc((13.205, 11.935), (12.306974388, 12.306974388), (11.935, 13.205))
            Line((11.935, 13.205), (11.935, 17.71))
            ThreePointArc((11.935, 17.71), (12.12245166, 18.16254834), (12.575, 18.35))
            Line((12.575, 18.35), (16.78, 18.35))
            ThreePointArc((16.78, 18.35), (17.890157646, 17.890157646), (18.35, 16.78))
        make_face(mode=Mode.SUBTRACT)
    extrude(amount=EXTRUDE1_DEPTH, both=True)


solid = part.part
